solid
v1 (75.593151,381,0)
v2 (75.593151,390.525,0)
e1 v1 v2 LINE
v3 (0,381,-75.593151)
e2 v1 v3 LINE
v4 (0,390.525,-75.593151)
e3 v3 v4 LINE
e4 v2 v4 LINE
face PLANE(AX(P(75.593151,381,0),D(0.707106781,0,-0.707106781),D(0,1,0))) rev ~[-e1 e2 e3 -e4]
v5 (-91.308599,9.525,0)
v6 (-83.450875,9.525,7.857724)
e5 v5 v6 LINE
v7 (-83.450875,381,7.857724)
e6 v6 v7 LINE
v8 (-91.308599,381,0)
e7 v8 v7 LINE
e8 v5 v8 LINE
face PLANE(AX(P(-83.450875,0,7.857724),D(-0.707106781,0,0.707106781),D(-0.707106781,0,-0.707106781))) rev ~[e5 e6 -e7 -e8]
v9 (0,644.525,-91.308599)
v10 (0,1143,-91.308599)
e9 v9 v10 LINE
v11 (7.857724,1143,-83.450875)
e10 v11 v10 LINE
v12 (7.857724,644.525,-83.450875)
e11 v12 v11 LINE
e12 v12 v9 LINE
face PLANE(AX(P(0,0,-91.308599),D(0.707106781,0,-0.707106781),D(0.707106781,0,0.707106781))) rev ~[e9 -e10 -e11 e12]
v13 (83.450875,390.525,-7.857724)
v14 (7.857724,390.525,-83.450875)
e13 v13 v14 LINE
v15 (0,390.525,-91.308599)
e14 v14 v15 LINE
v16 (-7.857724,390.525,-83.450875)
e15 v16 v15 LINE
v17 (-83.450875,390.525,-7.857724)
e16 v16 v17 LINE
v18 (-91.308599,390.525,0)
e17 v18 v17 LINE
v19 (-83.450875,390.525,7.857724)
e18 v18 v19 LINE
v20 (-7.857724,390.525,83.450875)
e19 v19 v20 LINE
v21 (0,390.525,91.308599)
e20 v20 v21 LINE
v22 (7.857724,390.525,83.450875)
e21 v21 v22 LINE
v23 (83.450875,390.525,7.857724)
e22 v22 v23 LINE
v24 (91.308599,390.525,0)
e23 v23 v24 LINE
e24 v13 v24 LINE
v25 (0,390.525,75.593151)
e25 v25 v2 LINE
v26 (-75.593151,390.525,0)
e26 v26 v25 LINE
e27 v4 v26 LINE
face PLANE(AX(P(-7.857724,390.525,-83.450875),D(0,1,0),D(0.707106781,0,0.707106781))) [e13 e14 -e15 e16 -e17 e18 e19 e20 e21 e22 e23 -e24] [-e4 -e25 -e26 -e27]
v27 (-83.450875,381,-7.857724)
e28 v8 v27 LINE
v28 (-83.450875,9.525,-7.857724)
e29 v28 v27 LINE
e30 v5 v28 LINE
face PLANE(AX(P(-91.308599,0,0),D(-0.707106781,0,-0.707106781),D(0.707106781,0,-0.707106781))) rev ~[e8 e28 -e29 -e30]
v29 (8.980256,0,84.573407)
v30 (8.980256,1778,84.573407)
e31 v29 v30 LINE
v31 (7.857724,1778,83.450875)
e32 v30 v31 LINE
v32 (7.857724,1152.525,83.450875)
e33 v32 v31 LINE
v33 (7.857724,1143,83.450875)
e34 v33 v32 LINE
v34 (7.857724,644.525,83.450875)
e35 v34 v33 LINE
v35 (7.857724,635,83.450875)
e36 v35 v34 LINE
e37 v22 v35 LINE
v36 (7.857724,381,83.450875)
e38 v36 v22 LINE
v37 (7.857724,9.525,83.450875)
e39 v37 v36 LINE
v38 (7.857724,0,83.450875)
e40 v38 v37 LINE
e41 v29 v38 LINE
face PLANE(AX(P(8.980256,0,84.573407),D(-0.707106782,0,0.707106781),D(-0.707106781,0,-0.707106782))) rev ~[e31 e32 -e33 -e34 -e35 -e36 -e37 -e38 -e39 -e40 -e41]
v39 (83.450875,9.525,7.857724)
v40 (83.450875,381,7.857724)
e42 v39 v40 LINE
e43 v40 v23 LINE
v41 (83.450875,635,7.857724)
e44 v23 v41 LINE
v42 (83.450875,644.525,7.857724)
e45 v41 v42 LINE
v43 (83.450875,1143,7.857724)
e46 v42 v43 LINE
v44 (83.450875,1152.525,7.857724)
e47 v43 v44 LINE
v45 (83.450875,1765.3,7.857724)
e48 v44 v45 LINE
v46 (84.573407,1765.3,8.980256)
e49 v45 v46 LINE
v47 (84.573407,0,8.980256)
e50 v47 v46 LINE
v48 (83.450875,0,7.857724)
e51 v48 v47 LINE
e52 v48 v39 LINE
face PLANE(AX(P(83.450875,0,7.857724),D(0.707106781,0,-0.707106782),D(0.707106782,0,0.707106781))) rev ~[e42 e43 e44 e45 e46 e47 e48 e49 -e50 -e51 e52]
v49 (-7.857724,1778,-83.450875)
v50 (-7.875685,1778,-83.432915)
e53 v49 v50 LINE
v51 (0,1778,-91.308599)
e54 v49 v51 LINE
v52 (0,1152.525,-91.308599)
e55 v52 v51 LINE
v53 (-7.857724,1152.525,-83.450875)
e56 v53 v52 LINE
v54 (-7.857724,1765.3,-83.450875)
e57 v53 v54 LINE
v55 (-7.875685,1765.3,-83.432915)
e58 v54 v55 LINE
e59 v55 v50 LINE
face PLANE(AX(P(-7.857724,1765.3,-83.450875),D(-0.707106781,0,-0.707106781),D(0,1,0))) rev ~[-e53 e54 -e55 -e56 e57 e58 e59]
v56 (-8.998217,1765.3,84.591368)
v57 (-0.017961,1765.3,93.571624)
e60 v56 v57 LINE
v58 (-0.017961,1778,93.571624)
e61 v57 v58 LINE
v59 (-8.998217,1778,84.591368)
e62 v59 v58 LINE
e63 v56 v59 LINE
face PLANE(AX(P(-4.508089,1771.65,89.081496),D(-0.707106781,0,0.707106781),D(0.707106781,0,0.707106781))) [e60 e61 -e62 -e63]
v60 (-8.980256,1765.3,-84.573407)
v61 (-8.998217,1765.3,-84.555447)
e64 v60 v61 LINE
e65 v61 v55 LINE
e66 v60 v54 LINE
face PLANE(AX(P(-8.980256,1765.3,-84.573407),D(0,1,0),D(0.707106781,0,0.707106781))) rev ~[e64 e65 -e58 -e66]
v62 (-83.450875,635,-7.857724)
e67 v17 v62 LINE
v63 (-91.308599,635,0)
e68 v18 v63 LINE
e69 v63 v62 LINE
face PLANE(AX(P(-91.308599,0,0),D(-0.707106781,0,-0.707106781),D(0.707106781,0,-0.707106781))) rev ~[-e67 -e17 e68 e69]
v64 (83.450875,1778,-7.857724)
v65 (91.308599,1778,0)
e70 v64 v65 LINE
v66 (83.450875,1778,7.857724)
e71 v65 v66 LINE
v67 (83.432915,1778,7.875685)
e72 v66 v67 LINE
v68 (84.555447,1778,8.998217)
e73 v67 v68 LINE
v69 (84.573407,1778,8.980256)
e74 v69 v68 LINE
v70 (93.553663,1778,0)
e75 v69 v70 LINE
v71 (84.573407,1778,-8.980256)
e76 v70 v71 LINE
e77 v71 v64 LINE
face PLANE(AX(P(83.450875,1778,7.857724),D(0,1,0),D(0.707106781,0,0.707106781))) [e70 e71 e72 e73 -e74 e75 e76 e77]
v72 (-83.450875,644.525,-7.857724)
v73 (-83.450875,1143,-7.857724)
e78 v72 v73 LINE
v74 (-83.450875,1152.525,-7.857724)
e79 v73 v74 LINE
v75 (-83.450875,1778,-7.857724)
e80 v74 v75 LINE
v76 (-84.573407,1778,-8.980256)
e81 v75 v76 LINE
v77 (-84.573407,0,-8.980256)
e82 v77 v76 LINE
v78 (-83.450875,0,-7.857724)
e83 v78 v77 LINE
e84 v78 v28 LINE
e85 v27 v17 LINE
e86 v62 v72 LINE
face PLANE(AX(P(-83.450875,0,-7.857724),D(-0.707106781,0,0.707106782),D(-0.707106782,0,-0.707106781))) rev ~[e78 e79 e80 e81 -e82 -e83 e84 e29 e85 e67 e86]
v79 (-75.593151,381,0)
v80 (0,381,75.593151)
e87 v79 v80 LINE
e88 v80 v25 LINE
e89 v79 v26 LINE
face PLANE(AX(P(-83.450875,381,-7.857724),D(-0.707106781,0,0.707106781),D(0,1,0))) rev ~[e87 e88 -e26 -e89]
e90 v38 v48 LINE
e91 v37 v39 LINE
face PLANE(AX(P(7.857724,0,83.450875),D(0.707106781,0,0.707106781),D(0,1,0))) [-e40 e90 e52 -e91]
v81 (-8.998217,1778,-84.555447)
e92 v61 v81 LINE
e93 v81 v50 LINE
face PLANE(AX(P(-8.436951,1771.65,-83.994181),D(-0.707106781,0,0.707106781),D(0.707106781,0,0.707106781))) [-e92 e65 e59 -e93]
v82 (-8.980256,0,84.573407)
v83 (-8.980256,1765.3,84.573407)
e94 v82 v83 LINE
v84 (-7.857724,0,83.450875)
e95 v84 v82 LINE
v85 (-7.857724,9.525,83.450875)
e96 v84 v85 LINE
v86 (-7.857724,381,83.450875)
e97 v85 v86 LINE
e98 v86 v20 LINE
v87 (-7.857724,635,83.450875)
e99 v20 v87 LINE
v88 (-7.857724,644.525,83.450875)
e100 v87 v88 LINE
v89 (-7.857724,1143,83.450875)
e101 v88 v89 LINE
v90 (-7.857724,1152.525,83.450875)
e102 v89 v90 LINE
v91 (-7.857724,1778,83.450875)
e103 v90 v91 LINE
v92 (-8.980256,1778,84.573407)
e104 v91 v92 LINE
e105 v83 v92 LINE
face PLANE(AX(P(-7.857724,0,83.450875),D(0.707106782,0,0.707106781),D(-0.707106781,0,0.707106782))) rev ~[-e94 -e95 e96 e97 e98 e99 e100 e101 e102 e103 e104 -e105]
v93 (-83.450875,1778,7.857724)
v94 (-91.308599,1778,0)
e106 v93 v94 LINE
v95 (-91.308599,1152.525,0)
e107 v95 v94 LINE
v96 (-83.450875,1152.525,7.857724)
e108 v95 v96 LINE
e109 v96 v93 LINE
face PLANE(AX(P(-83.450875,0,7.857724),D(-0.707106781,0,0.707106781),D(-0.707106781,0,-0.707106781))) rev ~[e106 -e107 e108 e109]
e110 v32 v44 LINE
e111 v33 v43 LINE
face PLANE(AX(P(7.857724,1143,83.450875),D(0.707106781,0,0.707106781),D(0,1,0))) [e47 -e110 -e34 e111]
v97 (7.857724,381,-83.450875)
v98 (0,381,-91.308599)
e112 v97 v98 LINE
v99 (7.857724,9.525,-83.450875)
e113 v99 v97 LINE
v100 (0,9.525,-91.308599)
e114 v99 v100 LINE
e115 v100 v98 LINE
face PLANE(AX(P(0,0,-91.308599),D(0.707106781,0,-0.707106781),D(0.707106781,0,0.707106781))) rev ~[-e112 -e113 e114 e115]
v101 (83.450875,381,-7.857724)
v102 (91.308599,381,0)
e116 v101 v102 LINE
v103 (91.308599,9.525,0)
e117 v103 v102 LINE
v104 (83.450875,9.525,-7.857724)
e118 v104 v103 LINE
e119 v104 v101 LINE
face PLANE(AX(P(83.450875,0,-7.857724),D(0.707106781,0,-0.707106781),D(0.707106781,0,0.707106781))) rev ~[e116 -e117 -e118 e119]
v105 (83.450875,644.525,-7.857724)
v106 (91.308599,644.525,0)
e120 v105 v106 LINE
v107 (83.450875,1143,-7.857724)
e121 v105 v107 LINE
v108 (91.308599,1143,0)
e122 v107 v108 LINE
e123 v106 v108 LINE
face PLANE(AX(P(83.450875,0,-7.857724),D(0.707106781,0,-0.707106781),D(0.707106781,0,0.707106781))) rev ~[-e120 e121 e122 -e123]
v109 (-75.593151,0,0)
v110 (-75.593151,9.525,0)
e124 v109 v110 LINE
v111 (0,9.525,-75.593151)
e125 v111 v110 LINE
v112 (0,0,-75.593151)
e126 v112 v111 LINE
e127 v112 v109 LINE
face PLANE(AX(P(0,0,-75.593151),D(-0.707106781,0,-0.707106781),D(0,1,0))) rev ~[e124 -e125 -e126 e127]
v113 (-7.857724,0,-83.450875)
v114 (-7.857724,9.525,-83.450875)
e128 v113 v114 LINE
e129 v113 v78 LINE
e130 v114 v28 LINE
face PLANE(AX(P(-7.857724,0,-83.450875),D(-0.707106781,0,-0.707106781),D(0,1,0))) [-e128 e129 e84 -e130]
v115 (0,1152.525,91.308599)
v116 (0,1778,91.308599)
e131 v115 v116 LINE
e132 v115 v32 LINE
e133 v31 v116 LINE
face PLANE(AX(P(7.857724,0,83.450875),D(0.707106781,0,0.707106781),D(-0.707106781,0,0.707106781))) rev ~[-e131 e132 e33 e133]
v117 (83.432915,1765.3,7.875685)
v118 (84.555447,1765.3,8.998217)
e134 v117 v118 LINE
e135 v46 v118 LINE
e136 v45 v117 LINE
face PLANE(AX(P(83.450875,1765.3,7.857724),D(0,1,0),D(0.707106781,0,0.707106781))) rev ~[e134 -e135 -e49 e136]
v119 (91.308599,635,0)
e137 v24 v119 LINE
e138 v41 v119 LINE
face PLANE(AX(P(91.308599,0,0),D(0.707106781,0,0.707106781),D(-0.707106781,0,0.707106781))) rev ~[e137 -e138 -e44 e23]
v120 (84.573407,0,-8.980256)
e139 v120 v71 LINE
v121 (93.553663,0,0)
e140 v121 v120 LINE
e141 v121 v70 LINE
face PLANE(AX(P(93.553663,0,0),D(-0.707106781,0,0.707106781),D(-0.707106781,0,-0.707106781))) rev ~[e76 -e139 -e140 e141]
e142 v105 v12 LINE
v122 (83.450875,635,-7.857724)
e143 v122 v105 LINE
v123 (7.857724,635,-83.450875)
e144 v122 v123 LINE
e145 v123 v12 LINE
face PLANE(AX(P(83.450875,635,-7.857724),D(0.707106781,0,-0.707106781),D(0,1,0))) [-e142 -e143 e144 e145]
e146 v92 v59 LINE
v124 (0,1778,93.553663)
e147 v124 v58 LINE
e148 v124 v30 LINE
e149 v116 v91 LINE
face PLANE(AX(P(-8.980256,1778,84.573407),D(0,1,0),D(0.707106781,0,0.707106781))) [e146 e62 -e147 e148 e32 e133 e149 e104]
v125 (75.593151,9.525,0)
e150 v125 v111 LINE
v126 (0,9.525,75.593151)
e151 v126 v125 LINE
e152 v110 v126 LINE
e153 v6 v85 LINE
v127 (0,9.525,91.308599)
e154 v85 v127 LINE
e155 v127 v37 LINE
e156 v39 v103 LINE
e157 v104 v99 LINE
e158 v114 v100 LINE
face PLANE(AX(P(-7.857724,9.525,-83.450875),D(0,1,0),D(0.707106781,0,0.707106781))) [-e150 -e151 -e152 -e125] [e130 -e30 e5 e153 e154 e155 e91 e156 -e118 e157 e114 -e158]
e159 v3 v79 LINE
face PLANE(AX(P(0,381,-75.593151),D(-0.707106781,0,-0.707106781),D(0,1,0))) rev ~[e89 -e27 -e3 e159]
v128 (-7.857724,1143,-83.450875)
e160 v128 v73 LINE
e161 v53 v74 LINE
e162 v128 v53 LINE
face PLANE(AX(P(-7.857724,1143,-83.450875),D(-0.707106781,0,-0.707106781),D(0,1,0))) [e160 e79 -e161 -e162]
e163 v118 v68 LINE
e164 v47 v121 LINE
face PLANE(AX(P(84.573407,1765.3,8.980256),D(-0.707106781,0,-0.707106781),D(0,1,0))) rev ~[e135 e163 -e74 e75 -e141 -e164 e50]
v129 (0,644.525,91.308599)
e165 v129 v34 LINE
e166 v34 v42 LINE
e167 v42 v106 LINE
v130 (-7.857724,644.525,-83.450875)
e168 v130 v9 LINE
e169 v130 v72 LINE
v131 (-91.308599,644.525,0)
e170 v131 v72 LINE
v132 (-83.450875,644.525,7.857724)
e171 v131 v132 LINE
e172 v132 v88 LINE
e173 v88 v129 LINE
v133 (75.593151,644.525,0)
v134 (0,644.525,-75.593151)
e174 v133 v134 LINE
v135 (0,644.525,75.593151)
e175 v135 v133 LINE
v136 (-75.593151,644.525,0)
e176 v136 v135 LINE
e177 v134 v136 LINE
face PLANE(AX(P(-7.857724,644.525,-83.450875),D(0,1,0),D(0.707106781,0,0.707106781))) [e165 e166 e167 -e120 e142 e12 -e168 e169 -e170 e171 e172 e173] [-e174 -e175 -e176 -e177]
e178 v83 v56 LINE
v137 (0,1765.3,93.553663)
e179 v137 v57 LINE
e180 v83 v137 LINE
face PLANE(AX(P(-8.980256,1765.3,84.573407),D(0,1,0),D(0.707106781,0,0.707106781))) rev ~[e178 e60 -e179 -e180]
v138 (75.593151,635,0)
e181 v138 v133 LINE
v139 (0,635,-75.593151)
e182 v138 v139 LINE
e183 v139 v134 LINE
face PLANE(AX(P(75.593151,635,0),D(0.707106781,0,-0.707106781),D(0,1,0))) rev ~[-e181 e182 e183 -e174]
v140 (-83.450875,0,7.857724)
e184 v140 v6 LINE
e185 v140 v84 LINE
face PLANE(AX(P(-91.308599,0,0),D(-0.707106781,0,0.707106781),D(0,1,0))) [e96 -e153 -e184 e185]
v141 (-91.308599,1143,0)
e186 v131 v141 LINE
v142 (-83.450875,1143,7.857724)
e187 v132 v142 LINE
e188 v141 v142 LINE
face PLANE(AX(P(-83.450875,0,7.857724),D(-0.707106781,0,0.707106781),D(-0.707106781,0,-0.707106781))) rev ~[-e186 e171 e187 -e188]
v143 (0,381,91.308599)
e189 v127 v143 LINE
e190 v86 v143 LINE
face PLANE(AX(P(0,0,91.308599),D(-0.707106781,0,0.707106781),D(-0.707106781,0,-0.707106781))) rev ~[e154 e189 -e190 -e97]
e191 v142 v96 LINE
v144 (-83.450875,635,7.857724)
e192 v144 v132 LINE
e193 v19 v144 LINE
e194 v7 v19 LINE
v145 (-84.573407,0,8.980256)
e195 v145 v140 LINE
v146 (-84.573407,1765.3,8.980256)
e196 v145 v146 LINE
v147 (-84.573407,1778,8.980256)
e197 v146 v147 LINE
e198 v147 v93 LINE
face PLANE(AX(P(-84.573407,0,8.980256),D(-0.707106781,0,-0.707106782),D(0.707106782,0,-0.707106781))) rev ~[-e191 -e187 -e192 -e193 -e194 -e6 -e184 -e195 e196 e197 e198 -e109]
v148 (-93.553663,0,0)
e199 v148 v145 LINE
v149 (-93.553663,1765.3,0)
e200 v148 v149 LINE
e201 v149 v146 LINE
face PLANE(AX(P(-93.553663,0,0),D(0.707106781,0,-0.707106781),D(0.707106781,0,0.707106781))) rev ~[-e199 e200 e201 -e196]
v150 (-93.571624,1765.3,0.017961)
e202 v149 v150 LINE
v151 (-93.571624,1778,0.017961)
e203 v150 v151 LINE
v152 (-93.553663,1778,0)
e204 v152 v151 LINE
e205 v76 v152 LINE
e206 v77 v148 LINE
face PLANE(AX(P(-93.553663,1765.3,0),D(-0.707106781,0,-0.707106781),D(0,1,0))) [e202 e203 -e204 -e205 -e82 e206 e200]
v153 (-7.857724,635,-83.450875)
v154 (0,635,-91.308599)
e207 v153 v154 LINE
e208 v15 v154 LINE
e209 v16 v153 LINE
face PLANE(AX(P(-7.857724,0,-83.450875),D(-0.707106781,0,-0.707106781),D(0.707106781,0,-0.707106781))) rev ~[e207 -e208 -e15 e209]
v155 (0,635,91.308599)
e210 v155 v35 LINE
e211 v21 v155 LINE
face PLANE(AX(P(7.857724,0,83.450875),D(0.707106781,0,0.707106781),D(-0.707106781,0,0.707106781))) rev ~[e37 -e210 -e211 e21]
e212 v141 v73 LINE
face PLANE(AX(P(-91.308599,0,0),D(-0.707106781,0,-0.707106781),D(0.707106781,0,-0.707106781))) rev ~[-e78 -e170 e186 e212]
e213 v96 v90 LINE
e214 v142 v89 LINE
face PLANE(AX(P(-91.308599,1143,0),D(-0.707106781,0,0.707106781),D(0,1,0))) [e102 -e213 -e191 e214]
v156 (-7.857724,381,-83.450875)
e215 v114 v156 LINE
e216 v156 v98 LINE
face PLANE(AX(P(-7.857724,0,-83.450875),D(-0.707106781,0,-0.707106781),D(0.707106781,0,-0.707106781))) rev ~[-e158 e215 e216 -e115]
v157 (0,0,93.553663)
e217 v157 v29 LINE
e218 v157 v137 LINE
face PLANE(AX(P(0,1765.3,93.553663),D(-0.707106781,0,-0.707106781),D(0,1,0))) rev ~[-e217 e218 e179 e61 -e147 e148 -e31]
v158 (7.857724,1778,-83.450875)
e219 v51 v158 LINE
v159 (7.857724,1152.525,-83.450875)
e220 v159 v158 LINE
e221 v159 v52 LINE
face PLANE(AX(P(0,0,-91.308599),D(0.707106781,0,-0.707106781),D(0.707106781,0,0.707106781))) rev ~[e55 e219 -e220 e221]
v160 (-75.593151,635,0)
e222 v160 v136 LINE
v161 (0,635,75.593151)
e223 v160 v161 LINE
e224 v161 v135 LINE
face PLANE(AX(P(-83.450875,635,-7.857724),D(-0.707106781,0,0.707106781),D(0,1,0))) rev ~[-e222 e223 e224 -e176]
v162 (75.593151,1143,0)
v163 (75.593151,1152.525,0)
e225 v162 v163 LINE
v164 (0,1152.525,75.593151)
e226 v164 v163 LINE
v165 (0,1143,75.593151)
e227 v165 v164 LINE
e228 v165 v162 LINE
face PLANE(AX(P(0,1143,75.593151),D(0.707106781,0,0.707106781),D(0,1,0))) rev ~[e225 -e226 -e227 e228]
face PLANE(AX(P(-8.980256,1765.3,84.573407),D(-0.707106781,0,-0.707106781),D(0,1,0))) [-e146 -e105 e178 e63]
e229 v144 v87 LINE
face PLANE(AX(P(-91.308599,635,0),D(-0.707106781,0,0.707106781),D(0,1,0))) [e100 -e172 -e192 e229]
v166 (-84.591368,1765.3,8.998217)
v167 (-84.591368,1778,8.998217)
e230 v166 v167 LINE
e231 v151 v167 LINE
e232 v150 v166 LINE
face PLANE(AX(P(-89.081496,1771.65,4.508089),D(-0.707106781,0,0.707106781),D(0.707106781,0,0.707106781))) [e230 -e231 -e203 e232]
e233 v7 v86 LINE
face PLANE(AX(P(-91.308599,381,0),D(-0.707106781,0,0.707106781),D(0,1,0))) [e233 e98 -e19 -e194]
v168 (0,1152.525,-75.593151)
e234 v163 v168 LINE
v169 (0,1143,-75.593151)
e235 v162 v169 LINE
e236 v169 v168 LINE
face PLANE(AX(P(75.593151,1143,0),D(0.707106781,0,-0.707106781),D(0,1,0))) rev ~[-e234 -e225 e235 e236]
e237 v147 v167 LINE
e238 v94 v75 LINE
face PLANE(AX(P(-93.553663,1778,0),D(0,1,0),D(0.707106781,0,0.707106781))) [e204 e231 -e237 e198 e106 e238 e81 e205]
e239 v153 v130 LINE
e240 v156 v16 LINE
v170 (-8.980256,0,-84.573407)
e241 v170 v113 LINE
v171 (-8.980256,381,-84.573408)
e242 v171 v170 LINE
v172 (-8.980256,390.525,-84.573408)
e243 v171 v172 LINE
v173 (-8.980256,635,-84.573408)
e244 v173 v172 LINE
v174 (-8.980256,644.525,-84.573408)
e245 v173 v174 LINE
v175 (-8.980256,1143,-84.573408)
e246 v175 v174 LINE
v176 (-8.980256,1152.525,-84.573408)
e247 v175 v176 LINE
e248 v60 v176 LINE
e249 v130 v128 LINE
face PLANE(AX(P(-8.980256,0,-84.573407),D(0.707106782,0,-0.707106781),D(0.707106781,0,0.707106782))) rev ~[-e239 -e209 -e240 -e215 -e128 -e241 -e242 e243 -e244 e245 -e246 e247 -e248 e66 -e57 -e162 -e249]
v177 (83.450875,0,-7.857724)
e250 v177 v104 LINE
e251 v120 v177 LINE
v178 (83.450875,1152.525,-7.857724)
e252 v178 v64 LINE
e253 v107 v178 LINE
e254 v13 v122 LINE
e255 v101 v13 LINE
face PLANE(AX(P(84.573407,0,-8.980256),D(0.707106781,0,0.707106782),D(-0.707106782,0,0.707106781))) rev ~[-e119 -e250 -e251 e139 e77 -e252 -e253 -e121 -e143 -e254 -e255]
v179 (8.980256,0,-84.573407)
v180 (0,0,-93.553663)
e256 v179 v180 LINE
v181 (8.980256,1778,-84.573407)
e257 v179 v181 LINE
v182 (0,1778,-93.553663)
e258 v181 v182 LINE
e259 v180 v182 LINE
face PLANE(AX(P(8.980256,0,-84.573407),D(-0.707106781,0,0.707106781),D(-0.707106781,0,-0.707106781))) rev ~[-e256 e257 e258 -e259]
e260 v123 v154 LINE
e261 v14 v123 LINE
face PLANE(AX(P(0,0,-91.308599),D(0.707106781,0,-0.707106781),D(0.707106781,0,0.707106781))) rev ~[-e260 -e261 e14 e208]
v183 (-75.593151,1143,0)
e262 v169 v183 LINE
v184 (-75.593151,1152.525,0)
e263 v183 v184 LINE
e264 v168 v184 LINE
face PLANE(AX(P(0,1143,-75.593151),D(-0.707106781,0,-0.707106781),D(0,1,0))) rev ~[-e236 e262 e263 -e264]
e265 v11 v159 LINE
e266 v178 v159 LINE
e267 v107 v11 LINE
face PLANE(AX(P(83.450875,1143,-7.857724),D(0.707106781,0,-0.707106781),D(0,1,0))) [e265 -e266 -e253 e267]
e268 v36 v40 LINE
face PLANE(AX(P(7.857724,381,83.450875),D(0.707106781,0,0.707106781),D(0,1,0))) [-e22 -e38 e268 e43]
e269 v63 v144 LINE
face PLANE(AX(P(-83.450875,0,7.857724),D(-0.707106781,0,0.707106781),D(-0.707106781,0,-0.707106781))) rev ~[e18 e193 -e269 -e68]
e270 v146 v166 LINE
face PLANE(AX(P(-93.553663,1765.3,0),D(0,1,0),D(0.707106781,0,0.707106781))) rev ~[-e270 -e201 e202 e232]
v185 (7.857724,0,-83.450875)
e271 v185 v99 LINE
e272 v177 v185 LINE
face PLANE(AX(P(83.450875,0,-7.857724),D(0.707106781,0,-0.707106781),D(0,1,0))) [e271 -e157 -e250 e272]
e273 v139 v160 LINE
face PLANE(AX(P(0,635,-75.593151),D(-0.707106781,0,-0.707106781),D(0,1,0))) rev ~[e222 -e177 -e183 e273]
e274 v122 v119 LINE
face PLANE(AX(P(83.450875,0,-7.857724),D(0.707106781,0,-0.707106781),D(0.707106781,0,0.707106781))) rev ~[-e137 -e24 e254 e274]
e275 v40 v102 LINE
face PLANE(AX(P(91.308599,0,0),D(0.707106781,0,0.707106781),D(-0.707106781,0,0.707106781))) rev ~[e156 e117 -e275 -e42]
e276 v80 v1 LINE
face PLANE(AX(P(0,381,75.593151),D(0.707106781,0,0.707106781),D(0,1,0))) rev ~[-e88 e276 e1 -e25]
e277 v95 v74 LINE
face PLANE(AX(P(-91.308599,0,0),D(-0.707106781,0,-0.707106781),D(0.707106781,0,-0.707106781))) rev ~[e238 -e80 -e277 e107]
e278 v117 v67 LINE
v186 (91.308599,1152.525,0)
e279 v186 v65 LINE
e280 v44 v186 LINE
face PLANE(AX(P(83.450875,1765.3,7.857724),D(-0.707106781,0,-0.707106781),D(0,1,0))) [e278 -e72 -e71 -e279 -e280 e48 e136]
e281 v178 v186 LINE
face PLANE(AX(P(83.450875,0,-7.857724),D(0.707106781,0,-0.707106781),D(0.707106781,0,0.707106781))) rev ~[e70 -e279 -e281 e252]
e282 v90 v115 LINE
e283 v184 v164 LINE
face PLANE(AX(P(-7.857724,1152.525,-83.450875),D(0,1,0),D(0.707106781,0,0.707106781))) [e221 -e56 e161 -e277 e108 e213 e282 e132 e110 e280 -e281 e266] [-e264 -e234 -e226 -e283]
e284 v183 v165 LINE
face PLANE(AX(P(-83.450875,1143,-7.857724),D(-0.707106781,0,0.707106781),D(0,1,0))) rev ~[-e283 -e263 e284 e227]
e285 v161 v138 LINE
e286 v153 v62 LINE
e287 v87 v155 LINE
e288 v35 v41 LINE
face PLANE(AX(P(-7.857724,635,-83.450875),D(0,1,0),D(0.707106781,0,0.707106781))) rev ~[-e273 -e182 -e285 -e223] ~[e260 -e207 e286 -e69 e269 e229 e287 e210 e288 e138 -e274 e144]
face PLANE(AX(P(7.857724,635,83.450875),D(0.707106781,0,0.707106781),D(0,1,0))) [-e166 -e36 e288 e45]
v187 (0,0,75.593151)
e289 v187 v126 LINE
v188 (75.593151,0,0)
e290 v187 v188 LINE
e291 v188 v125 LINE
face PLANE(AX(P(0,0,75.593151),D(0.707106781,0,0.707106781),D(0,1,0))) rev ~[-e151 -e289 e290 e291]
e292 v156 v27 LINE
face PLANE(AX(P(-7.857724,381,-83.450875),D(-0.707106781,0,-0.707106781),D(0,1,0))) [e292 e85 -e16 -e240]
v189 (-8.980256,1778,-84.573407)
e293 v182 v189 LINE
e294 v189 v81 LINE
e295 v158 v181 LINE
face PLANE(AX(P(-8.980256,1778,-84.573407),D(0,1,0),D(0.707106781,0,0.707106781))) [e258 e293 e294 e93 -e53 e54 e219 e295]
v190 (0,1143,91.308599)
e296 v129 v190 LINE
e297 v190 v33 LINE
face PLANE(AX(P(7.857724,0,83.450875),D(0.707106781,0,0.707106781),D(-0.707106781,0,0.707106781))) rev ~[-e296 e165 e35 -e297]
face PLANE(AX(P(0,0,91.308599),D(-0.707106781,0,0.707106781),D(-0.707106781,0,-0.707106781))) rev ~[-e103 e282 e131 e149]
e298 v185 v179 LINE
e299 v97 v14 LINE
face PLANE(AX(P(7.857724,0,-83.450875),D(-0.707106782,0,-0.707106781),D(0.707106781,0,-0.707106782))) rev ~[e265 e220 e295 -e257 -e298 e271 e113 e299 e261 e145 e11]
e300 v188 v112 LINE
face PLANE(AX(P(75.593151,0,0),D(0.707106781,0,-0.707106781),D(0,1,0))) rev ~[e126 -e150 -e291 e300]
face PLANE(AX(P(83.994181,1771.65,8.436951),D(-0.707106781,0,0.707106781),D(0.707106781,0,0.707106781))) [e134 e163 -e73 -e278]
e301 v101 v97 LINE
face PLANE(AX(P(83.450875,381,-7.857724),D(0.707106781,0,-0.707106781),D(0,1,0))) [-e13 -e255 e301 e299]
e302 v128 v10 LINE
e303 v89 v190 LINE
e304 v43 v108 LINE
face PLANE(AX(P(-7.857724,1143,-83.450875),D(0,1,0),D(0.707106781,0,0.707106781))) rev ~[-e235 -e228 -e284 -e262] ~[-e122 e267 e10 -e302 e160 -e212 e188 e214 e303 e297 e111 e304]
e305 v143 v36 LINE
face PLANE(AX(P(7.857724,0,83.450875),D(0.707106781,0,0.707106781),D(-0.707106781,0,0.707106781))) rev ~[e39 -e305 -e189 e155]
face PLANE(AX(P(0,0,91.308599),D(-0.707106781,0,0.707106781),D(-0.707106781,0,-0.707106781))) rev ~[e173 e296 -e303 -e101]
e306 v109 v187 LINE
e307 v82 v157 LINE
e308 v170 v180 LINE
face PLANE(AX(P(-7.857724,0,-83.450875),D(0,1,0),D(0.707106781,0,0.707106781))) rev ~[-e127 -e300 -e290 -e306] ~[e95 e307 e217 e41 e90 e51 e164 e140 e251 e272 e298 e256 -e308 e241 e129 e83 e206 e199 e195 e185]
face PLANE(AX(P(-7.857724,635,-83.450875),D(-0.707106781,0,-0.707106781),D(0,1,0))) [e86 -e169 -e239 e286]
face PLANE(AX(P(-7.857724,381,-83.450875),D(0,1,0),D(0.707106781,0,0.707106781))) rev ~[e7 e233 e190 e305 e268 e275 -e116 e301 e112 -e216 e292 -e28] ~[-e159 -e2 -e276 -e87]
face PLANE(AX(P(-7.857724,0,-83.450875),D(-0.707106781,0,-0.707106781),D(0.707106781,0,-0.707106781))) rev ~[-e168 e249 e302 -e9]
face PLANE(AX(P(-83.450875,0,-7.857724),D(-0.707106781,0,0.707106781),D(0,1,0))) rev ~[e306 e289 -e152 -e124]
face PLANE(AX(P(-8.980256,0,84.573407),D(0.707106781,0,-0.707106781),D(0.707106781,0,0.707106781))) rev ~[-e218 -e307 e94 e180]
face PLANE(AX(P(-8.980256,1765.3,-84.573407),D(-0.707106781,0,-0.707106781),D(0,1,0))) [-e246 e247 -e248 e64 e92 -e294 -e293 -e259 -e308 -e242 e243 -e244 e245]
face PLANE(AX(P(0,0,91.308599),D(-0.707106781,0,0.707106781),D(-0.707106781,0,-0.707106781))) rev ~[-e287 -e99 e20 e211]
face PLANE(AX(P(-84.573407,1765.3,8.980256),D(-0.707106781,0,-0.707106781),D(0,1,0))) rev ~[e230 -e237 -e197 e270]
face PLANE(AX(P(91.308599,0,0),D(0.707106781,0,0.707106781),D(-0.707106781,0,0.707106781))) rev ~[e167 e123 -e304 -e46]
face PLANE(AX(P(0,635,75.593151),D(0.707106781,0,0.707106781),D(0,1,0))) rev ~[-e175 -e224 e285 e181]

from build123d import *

# Parameters (mm, degrees)
BOSS_EXTRUDE6_DEPTH   = 1778
BOSS_EXTRUDE6_2_DEPTH = 1778
BOSS_EXTRUDE6_3_DEPTH = 1778
BOSS_EXTRUDE6_4_DEPTH = 1778
SKETCH11_W            = 11.1125
SKETCH11_H            = 9.525
BOSS_EXTRUDE11_DEPTH  = 129.12986
SKETCH13_W            = 11.1125
SKETCH13_H            = 9.525
BOSS_EXTRUDE13_DEPTH  = 118.01736
SKETCH14_W            = 11.1125
SKETCH14_H            = 9.525
BOSS_EXTRUDE14_DEPTH  = 119.60486
SKETCH15_W            = 11.1125
SKETCH15_H            = 9.525
BOSS_EXTRUDE15_DEPTH  = 106.90486
LPATTERN1_COUNT       = 2
LPATTERN1_PITCH       = 381
LPATTERN2_COUNT       = 2
LPATTERN2_PITCH       = 635
LPATTERN3_COUNT       = 2
LPATTERN3_PITCH       = 1143
SKETCH16_W            = 12.7
SKETCH16_H            = 12.7
BOSS_EXTRUDE16_DEPTH  = 0.0254
SKETCH17_W            = 12.7
SKETCH17_H            = 12.7
BOSS_EXTRUDE17_DEPTH  = 0.0254
SKETCH18_W            = 1.5875
SKETCH18_H            = 12.7
BOSS_EXTRUDE18_DEPTH  = 0.0254
SKETCH19_W            = 1.5875
SKETCH19_H            = 12.7
BOSS_EXTRUDE19_DEPTH  = 0.0254


with BuildPart() as part:
    # Sketch2 → Boss-Extrude6 (new body)
    with BuildSketch(Plane(origin=(0, 0, 0), x_dir=(1, 0, 0), z_dir=(0, 1, 0))):
        Polygon((0, 93.553663338), (-8.980256121, 84.573407217), (-7.857724106, 83.450875201), (0, 91.308599307), (7.857724106, 83.450875201), (8.980256121, 84.573407217), align=None)
    extrude(amount=BOSS_EXTRUDE6_DEPTH)



with BuildPart() as body_2:
    # Sketch2 → Boss-Extrude6 2 (new body)
    with BuildSketch(Plane(origin=(0, 0, 0), x_dir=(1, 0, 0), z_dir=(0, 1, 0))):
        Polygon((93.553663338, 0), (84.573407217, 8.980256121), (83.450875201, 7.857724106), (91.308599307, 0), (83.450875201, -7.857724106), (84.573407217, -8.980256121), align=None)
    extrude(amount=BOSS_EXTRUDE6_2_DEPTH)



with BuildPart() as body_3:
    # Sketch2 → Boss-Extrude6 3 (new body)
    with BuildSketch(Plane(origin=(0, 0, 0), x_dir=(1, 0, 0), z_dir=(0, 1, 0))):
        Polygon((0, -93.553663338), (8.980256121, -84.573407217), (7.857724106, -83.450875201), (0, -91.308599307), (-7.857724106, -83.450875201), (-8.980256121, -84.573407217), align=None)
    extrude(amount=BOSS_EXTRUDE6_3_DEPTH)



with BuildPart() as body_4:
    # Sketch2 → Boss-Extrude6 4 (new body)
    with BuildSketch(Plane(origin=(0, 0, 0), x_dir=(1, 0, 0), z_dir=(0, 1, 0))):
        Polygon((-93.553663338, 0), (-84.573407217, -8.980256121), (-83.450875201, -7.857724106), (-91.308599307, 0), (-83.450875201, 7.857724106), (-84.573407217, 8.980256121), align=None)
    extrude(amount=BOSS_EXTRUDE6_4_DEPTH)


with BuildPart() as body_3_1:
    add(body_3.part)

    add(body_4.part)  # Boss-Extrude11 merges body 4
    # Sketch11 → Boss-Extrude11 (add)
    with BuildSketch(Plane(origin=(-45.654299654, 0, -45.654299654), x_dir=(0.707106781, 0, -0.707106781), z_dir=(0.707106781, 0, 0.707106781))):
        with Locations((-59.008679751, 4.7625)):
            Rectangle(SKETCH11_W, SKETCH11_H)
    boss_extrude11 = extrude(amount=BOSS_EXTRUDE11_DEPTH)


with BuildPart() as body_2_1:
    add(body_2.part)

    add(body_3_1.part)  # Boss-Extrude13 merges body 3
    # Sketch13 → Boss-Extrude13 (add)
    with BuildSketch(Plane(origin=(-37.796575548, 0, 37.796575548), x_dir=(-0.707106781, 0, -0.707106781), z_dir=(0.707106781, 0, -0.707106781))):
        with Locations((-59.008679751, 4.7625)):
            Rectangle(SKETCH13_W, SKETCH13_H)
    boss_extrude13 = extrude(amount=BOSS_EXTRUDE13_DEPTH)


with BuildPart() as part_1:
    add(part.part)

    add(body_2_1.part)  # Boss-Extrude14 merges body 2
    # Sketch14 → Boss-Extrude14 (add)
    with BuildSketch(Plane(origin=(37.796575548, 0, 37.796575548), x_dir=(-0.707106781, 0, 0.707106781), z_dir=(-0.707106781, 0, -0.707106781))):
        with Locations((-59.008679751, 4.7625)):
            Rectangle(SKETCH14_W, SKETCH14_H)
    boss_extrude14 = extrude(amount=BOSS_EXTRUDE14_DEPTH)

    # Sketch15 → Boss-Extrude15 (add)
    with BuildSketch(Plane(origin=(37.796575548, 0, -37.796575548), x_dir=(0.707106781, 0, 0.707106781), z_dir=(-0.707106781, 0, 0.707106781))):
        with Locations((-59.008679751, 4.7625)):
            Rectangle(SKETCH15_W, SKETCH15_H)
    boss_extrude15 = extrude(amount=BOSS_EXTRUDE15_DEPTH)

    # LPattern1: Boss-Extrude11, Boss-Extrude13, Boss-Extrude14, Boss-Extrude15 ×2
    with Locations(*[(0, i * LPATTERN1_PITCH, 0) for i in range(1, LPATTERN1_COUNT)]):
        add(boss_extrude11)
        add(boss_extrude13)
        add(boss_extrude14)
        add(boss_extrude15)

    # LPattern2: Boss-Extrude11, Boss-Extrude13, Boss-Extrude14, Boss-Extrude15 ×2
    with Locations(*[(0, i * LPATTERN2_PITCH, 0) for i in range(1, LPATTERN2_COUNT)]):
        add(boss_extrude11)
        add(boss_extrude13)
        add(boss_extrude14)
        add(boss_extrude15)

    # LPattern3: Boss-Extrude11, Boss-Extrude13, Boss-Extrude14, Boss-Extrude15 ×2
    with Locations(*[(0, i * LPATTERN3_PITCH, 0) for i in range(1, LPATTERN3_COUNT)]):
        add(boss_extrude11)
        add(boss_extrude13)
        add(boss_extrude14)
        add(boss_extrude15)

    # Sketch16 → Boss-Extrude16 (add)
    with BuildSketch(Plane(origin=(-46.776831669, 0, 46.776831669), x_dir=(0.707106781, 0, 0.707106781), z_dir=(-0.707106781, 0, 0.707106781))):
        with Locations((-59.802429751, 1771.65)):
            Rectangle(SKETCH16_W, SKETCH16_H)
    extrude(amount=BOSS_EXTRUDE16_DEPTH)

    # Sketch17 → Boss-Extrude17 (add)
    with BuildSketch(Plane(origin=(-46.776831669, 0, 46.776831669), x_dir=(0.707106781, 0, 0.707106781), z_dir=(-0.707106781, 0, 0.707106781))):
        with Locations((59.802429751, 1771.65)):
            Rectangle(SKETCH17_W, SKETCH17_H)
    extrude(amount=BOSS_EXTRUDE17_DEPTH)

    # Sketch18 → Boss-Extrude18 (add)
    with BuildSketch(Plane(origin=(37.796575548, 0, -37.796575548), x_dir=(0.707106781, 0, 0.707106781), z_dir=(-0.707106781, 0, 0.707106781))):
        with Locations((-65.358679751, 1771.65)):
            Rectangle(SKETCH18_W, SKETCH18_H)
    extrude(amount=BOSS_EXTRUDE18_DEPTH)

    # Sketch19 → Boss-Extrude19 (add)
    with BuildSketch(Plane(origin=(37.796575548, 0, -37.796575548), x_dir=(0.707106781, 0, 0.707106781), z_dir=(-0.707106781, 0, 0.707106781))):
        with Locations((65.358679751, 1771.65)):
            Rectangle(SKETCH19_W, SKETCH19_H)
    extrude(amount=BOSS_EXTRUDE19_DEPTH)


solid = part_1.part
